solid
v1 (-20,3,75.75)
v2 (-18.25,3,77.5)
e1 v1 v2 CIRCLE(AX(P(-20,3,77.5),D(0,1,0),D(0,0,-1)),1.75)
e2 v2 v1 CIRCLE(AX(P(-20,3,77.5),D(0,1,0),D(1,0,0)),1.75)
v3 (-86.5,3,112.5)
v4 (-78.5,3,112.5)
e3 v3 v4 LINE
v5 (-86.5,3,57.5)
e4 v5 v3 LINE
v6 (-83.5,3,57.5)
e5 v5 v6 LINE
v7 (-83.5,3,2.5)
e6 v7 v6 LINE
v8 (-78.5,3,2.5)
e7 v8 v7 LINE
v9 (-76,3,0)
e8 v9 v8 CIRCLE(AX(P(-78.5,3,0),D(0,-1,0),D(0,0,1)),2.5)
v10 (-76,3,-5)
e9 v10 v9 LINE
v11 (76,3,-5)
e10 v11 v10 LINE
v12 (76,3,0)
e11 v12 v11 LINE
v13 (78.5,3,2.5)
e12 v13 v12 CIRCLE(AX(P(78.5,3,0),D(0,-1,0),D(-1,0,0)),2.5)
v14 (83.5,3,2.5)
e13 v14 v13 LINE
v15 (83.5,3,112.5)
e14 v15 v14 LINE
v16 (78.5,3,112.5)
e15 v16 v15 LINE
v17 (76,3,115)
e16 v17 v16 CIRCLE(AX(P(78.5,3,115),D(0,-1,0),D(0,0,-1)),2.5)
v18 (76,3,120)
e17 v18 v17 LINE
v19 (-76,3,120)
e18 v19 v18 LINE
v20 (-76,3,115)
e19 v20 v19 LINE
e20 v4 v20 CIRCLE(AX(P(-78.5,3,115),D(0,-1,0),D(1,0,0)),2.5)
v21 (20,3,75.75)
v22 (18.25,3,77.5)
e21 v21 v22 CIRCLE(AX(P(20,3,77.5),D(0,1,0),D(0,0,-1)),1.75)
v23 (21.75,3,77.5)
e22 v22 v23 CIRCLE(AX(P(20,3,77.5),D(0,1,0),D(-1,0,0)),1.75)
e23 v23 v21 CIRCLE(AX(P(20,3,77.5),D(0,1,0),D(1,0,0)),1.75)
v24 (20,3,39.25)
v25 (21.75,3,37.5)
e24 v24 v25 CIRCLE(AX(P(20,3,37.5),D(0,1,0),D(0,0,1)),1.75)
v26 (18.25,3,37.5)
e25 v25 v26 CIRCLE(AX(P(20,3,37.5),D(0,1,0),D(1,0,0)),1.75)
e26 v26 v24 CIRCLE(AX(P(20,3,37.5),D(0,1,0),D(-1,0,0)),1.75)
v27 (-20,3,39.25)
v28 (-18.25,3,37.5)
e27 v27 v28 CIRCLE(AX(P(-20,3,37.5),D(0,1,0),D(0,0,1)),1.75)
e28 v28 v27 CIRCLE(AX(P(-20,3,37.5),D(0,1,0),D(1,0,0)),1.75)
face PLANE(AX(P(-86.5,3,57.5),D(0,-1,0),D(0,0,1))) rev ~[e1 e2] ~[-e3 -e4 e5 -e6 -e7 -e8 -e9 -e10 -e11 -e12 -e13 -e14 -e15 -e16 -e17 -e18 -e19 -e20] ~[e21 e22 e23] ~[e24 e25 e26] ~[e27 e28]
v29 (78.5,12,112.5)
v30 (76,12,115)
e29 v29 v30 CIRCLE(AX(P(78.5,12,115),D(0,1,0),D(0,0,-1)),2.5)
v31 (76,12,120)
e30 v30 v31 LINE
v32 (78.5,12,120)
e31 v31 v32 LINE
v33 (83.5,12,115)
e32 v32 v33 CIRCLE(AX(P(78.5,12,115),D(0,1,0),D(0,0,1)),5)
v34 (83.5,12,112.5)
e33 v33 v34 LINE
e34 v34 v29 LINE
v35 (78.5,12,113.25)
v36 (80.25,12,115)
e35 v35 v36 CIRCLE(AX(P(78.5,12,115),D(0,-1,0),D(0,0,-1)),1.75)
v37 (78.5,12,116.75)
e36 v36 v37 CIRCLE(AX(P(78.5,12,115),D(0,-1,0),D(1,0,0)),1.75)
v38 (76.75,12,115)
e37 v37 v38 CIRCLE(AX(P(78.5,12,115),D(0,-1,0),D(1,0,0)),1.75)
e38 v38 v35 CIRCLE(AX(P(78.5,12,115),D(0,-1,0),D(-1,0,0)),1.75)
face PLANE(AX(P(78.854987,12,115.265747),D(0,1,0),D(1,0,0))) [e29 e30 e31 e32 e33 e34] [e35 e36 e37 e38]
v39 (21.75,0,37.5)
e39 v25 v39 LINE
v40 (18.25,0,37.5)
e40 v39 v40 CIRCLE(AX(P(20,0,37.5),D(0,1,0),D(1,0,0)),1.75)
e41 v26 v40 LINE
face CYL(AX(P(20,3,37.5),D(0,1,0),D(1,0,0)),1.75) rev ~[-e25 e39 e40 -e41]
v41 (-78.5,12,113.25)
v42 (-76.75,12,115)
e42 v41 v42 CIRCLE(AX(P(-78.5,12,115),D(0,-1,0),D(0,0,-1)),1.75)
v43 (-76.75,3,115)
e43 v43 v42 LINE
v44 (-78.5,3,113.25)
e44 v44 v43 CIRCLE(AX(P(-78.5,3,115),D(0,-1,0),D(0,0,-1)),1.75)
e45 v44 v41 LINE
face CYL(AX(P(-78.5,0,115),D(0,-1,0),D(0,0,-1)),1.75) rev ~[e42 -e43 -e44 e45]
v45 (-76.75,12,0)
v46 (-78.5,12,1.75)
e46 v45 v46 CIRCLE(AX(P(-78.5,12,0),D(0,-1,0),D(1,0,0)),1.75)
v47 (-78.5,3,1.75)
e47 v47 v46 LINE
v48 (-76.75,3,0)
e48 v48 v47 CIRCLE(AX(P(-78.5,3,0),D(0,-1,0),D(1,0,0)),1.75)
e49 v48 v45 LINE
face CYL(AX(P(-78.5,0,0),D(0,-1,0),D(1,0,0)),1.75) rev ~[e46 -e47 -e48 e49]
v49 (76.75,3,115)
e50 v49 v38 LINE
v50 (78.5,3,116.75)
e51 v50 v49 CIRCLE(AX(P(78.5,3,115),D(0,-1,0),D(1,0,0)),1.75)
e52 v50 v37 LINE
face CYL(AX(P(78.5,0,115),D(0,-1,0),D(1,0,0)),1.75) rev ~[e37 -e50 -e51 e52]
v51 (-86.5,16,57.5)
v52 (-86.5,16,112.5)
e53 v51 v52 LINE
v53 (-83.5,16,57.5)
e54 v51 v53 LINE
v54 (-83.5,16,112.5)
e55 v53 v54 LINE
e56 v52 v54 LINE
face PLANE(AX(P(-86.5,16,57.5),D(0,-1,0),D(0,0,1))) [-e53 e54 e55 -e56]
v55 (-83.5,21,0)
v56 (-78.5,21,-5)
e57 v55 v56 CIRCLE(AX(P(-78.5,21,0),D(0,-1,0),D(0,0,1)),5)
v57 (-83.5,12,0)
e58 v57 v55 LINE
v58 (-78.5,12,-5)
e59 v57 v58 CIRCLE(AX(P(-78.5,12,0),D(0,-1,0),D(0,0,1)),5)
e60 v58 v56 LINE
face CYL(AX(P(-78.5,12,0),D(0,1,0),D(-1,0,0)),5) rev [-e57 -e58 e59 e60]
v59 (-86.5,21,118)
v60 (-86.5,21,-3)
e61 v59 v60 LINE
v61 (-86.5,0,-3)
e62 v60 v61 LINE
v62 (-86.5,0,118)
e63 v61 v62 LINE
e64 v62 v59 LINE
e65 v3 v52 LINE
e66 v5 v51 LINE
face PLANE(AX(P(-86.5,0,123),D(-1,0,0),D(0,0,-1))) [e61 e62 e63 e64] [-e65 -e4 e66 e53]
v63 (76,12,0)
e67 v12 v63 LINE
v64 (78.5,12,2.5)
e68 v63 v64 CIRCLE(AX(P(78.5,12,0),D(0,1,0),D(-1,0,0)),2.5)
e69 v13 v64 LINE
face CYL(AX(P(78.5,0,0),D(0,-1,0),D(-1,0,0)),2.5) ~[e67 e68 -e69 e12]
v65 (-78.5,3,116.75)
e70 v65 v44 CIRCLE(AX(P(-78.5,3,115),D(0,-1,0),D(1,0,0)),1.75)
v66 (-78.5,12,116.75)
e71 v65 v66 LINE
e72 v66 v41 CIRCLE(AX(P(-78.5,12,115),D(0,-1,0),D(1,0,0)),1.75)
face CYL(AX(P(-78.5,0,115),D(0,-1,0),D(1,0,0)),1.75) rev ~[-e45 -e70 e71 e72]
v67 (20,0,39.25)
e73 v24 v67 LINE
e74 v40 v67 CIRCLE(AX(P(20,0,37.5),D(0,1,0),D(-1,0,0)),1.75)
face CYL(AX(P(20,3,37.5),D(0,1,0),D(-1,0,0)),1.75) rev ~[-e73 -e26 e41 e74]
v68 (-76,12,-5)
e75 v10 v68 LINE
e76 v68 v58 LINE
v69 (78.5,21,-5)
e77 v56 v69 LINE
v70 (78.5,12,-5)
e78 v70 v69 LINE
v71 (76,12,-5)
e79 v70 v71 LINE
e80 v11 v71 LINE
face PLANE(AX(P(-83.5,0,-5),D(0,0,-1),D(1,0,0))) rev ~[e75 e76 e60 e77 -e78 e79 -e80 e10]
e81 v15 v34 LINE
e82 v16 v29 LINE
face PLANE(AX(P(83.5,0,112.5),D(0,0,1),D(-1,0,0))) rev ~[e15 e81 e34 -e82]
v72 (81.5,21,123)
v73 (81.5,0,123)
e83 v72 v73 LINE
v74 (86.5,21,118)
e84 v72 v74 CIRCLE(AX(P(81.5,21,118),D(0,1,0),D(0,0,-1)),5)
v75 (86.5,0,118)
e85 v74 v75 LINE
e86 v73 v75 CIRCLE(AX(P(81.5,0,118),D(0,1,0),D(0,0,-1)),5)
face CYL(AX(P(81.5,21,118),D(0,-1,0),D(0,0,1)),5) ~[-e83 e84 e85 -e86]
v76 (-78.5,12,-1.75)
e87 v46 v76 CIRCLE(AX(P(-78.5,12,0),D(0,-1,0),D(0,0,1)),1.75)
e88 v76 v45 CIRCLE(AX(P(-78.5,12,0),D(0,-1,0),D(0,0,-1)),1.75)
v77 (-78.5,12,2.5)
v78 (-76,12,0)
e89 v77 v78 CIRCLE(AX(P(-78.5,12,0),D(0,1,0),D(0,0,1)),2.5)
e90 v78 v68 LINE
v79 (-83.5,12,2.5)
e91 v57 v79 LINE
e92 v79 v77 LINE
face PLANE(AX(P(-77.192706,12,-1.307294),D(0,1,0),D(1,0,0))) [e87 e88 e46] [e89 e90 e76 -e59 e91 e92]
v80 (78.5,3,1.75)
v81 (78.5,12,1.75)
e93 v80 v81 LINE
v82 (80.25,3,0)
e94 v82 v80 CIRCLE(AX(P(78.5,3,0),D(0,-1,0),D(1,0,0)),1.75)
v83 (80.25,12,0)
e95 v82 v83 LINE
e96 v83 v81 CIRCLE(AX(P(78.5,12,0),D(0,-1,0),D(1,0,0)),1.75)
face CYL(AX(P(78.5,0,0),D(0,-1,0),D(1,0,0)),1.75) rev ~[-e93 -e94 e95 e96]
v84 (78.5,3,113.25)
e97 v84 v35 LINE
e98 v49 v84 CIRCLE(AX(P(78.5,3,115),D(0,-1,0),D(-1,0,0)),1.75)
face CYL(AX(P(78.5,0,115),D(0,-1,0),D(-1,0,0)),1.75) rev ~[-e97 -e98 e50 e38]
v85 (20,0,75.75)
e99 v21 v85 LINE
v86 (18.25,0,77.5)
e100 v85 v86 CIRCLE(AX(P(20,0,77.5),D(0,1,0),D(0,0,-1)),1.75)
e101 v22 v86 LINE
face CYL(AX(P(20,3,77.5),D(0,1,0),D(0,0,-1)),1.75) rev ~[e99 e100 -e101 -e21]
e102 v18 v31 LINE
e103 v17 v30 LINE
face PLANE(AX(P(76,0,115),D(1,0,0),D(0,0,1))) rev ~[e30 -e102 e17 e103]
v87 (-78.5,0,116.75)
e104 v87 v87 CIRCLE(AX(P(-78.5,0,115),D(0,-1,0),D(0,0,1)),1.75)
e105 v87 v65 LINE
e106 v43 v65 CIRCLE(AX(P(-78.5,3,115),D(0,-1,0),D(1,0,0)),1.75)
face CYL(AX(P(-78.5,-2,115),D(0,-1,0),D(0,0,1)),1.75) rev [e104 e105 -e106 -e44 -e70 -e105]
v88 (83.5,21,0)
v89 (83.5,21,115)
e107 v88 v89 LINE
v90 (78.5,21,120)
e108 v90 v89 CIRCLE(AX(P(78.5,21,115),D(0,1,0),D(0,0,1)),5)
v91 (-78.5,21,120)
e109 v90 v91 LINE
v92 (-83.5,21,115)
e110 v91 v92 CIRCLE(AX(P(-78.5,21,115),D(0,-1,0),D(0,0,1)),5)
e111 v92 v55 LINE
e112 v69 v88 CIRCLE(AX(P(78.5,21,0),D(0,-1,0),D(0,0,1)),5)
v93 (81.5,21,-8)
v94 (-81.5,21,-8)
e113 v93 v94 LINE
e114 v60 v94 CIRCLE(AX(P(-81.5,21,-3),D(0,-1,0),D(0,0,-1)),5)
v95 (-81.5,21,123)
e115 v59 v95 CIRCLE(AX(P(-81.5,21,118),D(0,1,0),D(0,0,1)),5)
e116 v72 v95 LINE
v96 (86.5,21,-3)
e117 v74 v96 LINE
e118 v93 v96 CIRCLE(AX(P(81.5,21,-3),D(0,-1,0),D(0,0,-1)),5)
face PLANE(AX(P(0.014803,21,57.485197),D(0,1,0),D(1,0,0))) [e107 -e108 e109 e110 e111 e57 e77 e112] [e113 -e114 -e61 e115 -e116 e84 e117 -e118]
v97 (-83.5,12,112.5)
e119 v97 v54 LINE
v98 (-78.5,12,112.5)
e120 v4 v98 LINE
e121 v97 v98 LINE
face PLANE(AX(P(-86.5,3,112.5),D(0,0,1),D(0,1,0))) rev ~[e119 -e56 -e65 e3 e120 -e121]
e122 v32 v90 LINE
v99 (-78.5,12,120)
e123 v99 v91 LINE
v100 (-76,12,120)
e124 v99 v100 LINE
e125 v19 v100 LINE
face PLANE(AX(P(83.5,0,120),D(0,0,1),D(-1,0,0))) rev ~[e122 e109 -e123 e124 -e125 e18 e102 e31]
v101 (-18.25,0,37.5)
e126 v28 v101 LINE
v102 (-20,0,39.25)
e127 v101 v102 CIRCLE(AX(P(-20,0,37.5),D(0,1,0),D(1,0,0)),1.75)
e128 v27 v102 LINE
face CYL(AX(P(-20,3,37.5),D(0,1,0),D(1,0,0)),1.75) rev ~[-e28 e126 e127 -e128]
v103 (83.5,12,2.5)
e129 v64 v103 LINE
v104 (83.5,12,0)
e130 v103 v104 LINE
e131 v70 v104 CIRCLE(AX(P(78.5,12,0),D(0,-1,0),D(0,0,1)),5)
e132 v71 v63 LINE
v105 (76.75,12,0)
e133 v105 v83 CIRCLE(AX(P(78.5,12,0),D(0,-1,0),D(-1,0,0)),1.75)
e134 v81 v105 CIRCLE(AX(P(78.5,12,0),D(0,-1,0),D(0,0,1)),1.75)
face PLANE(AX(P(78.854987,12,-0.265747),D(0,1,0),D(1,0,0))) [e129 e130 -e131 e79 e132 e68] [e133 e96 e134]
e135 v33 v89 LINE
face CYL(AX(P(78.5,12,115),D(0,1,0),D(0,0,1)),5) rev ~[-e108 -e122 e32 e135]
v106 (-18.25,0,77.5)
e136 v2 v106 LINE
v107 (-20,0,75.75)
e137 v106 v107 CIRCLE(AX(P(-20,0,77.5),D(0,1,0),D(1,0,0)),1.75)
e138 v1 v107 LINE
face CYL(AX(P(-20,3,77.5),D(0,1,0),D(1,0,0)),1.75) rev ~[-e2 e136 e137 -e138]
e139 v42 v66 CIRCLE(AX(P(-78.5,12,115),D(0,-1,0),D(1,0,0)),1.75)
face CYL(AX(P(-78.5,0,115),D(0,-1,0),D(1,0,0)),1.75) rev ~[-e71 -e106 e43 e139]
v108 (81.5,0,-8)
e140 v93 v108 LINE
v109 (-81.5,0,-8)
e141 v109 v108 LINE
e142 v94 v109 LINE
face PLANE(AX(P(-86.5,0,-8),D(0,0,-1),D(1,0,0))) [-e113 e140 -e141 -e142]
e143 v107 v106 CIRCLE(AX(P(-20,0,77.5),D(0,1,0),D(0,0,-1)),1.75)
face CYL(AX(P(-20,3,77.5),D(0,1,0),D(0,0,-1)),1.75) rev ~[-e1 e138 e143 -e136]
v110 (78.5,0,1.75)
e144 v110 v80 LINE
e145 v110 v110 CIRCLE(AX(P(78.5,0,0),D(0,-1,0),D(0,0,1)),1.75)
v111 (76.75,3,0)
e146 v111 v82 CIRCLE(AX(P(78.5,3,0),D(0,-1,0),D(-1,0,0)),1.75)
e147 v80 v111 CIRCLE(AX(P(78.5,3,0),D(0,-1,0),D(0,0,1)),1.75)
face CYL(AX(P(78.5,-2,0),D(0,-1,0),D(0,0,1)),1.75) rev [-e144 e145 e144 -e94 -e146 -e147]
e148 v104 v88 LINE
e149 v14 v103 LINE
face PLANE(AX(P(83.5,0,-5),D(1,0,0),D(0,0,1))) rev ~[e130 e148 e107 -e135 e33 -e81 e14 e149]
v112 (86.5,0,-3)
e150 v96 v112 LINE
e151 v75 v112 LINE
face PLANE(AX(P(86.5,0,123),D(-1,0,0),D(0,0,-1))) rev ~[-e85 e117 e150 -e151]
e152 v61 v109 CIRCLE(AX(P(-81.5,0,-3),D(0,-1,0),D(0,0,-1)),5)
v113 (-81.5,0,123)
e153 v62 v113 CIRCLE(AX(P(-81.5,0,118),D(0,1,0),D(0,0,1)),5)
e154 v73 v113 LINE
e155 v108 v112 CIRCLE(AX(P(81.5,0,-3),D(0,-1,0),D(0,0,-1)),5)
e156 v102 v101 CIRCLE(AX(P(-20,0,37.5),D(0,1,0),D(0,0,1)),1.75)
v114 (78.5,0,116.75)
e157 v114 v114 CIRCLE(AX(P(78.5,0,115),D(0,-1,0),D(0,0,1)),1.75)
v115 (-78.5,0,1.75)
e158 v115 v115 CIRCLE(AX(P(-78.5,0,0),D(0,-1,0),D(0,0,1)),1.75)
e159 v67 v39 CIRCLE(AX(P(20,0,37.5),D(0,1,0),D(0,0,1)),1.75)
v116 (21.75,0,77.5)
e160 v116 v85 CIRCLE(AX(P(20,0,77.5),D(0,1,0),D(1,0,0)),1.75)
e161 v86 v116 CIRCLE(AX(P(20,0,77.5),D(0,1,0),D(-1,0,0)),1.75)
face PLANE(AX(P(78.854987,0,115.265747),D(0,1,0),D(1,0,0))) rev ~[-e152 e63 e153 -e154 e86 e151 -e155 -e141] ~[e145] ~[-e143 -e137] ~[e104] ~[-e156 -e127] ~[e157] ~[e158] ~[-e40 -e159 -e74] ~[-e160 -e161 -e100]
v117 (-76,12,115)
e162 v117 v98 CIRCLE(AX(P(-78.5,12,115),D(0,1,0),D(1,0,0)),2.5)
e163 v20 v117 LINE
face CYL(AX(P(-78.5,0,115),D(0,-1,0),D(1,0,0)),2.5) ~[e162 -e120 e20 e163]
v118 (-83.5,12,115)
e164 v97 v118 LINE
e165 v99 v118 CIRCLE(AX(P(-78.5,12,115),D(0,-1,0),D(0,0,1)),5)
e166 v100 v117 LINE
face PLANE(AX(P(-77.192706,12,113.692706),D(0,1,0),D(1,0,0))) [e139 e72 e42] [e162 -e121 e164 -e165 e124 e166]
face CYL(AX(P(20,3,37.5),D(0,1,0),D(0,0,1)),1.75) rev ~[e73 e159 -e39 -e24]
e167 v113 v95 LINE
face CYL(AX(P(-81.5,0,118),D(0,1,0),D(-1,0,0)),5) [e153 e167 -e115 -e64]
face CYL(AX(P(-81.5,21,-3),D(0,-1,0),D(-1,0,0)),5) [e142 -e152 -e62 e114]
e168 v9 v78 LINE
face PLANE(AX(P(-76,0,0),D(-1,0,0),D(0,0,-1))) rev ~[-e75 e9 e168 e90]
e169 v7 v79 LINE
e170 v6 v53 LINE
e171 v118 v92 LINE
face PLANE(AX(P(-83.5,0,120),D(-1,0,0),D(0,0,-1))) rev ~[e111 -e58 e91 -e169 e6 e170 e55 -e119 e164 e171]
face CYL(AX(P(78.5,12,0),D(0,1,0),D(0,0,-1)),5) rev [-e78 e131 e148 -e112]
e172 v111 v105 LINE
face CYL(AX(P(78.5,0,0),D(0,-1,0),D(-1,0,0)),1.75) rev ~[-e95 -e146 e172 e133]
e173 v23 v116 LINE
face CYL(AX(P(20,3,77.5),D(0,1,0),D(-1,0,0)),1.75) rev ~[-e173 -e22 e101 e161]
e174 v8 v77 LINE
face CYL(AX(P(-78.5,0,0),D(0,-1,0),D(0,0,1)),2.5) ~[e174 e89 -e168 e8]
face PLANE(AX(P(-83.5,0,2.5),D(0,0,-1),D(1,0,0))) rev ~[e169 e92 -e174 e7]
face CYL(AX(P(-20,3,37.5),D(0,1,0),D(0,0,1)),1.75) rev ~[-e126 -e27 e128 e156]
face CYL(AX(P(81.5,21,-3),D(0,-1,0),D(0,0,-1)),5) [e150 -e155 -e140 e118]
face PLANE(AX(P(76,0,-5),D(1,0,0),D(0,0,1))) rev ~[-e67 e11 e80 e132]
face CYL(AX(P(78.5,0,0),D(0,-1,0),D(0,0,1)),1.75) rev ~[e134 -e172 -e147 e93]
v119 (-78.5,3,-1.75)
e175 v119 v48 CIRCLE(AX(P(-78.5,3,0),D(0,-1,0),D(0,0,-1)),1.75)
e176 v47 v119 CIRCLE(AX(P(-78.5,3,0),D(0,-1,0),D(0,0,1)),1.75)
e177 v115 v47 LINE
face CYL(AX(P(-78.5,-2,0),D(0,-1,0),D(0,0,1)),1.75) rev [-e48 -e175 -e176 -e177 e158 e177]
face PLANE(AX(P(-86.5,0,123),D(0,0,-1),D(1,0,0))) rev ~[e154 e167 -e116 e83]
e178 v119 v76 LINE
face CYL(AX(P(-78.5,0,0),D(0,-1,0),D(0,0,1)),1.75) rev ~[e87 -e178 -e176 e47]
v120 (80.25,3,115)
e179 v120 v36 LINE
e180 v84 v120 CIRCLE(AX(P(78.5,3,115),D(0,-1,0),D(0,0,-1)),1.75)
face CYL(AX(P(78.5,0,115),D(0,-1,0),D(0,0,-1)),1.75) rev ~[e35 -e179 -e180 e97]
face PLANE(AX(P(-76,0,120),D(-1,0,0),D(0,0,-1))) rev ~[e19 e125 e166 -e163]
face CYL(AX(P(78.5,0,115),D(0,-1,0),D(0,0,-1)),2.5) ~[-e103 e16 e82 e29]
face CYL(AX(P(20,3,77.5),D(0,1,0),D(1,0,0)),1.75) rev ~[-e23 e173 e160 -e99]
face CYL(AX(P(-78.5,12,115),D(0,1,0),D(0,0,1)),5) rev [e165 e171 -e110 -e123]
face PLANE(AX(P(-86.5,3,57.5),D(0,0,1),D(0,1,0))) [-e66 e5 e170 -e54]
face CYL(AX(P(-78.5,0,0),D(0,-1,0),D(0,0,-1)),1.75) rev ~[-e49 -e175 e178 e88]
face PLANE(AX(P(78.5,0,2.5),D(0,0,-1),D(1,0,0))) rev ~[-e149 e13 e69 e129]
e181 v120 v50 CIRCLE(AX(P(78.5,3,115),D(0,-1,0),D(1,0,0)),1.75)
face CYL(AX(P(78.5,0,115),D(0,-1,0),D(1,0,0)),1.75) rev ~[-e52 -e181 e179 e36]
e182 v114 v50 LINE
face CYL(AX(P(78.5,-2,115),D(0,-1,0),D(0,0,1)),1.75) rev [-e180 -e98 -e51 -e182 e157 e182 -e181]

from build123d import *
from build123d.topology import SkipClean

# Parameters (mm, degrees)
SKETCH_1_W          = 173
SKETCH_1_H          = 131
EXTRUDE_1_DEPTH     = 3
SKETCH_1_3_W        = 3
SKETCH_1_3_H        = 3
EXTRUDE_2_DEPTH     = 21
EXTRUDE_3_DEPTH     = 12
SKETCH_3_W          = 55
SKETCH_3_H          = 13
CUT_EXTRUDE_1_DEPTH = 4
CUT_EXTRUDE_START   = -14
SKETCH_4_R          = 1.75
CUT_EXTRUDE_2_DEPTH = 14
CUT_EXTRUDE_3_DEPTH = 4
FILLET_1_R          = 5
FILLET_2_R          = 5


with BuildPart() as part:
    # 草图1 → 凸台-拉伸1 (new body)
    with BuildSketch(Plane(origin=(0, 0, 0), x_dir=(1, 0, 0), z_dir=(0, 1, 0))):
        with Locations((0, -57.5)):
            Rectangle(SKETCH_1_W, SKETCH_1_H)
    extrude(amount=EXTRUDE_1_DEPTH)

    # 草图1<3> → 凸台-拉伸2 (add)
    # profile 1 of 2: a face of its own
    with BuildSketch(Plane(origin=(0, 0, 0), x_dir=(1, 0, 0), z_dir=(0, 1, 0))):
        Polygon((-86.5, -120), (-83.5, -120), (-83.5, -123), (83.5, -123), (86.5, -123), (86.5, 8), (-86.5, 8), align=None)
        Polygon((-76, 5), (76, 5), (78.5, 5), (83.5, 5), (83.5, -2.5), (83.5, -112.5), (83.5, -115), (83.5, -120), (76, -120), (-76, -120), (-83.5, -120), (-83.5, -112.5), (-83.5, -2.5), (-83.5, 5), (-78.5, 5), align=None, mode=Mode.SUBTRACT)
    # profile 2 of 2: a face of its own
    with BuildSketch(Plane(origin=(0, 0, 0), x_dir=(1, 0, 0), z_dir=(0, 1, 0))):
        with Locations((-85, -121.5)):
            Rectangle(SKETCH_1_3_W, SKETCH_1_3_H)
    extrude(amount=EXTRUDE_2_DEPTH)

    # 草图1<5> → 凸台-拉伸3 (add)
    with BuildSketch(Plane(origin=(0, 0, 0), x_dir=(1, 0, 0), z_dir=(0, 1, 0))):
        with BuildLine():
            ThreePointArc((81, -115), (80.267766953, -113.232233047), (78.5, -112.5))
            Line((78.5, -112.5), (78.5, -113.25))
            ThreePointArc((78.5, -113.25), (79.737436867, -113.762563133), (80.25, -115))
            ThreePointArc((80.25, -115), (78.5, -116.75), (76.75, -115))
            Line((76.75, -115), (76, -115))
            ThreePointArc((76, -115), (78.5, -117.5), (81, -115))
        make_face()
        with BuildLine():
            Line((78.5, -113.25), (78.5, -112.5))
            ThreePointArc((78.5, -112.5), (76.732233047, -113.232233047), (76, -115))
            Line((76, -115), (76.75, -115))
            ThreePointArc((76.75, -115), (77.262563133, -113.762563133), (78.5, -113.25))
        make_face()
        with BuildLine():
            ThreePointArc((-76, -115), (-76.732233047, -113.232233047), (-78.5, -112.5))
            Line((-78.5, -112.5), (-78.5, -113.25))
            ThreePointArc((-78.5, -113.25), (-77.262563133, -113.762563133), (-76.75, -115))
            Line((-76.75, -115), (-76, -115))
        make_face()
        with BuildLine():
            Line((-78.5, -113.25), (-78.5, -112.5))
            ThreePointArc((-78.5, -112.5), (-80.267766953, -116.767766953), (-76, -115))
            Line((-76, -115), (-76.75, -115))
            ThreePointArc((-76.75, -115), (-79.737436867, -116.237436867), (-78.5, -113.25))
        make_face()
        with BuildLine():
            Line((-76.75, 0), (-76, 0))
            ThreePointArc((-76, 0), (-76.732233047, 1.767766953), (-78.5, 2.5))
            Line((-78.5, 2.5), (-78.5, 1.75))
            ThreePointArc((-78.5, 1.75), (-77.262563133, 1.237436867), (-76.75, 0))
        make_face()
        with BuildLine():
            ThreePointArc((-78.5, 2.5), (-81, 0), (-78.5, -2.5))
            Line((-78.5, -2.5), (-78.5, -1.75))
            ThreePointArc((-78.5, -1.75), (-80.25, 0), (-78.5, 1.75))
            Line((-78.5, 1.75), (-78.5, 2.5))
        make_face()
        with BuildLine():
            ThreePointArc((-78.5, -2.5), (-76.732233047, -1.767766953), (-76, 0))
            Line((-76, 0), (-76.75, 0))
            ThreePointArc((-76.75, 0), (-77.262563133, -1.237436867), (-78.5, -1.75))
            Line((-78.5, -1.75), (-78.5, -2.5))
        make_face()
        with BuildLine():
            ThreePointArc((81, 0), (78.5, 2.5), (76, 0))
            Line((76, 0), (76.75, 0))
            ThreePointArc((76.75, 0), (78.5, 1.75), (80.25, 0))
            ThreePointArc((80.25, 0), (79.737436867, -1.237436867), (78.5, -1.75))
            Line((78.5, -1.75), (78.5, -2.5))
            ThreePointArc((78.5, -2.5), (80.267766953, -1.767766953), (81, 0))
        make_face()
        with BuildLine():
            Line((76.75, 0), (76, 0))
            ThreePointArc((76, 0), (76.732233047, -1.767766953), (78.5, -2.5))
            Line((78.5, -2.5), (78.5, -1.75))
            ThreePointArc((78.5, -1.75), (77.262563133, -1.237436867), (76.75, 0))
        make_face()
        with BuildLine():
            Line((-83.5, -2.5), (-78.5, -2.5))
            ThreePointArc((-78.5, -2.5), (-81, 0), (-78.5, 2.5))
            Line((-78.5, 2.5), (-78.5, 5))
            Line((-78.5, 5), (-83.5, 5))
            Line((-83.5, 5), (-83.5, -2.5))
        make_face()
        with BuildLine():
            ThreePointArc((-78.5, 2.5), (-76.732233047, 1.767766953), (-76, 0))
            Line((-76, 0), (-76, 5))
            Line((-76, 5), (-78.5, 5))
            Line((-78.5, 5), (-78.5, 2.5))
        make_face()
        with BuildLine():
            Line((76, 5), (76, 0))
            ThreePointArc((76, 0), (78.5, 2.5), (81, 0))
            ThreePointArc((81, 0), (80.267766953, -1.767766953), (78.5, -2.5))
            Line((78.5, -2.5), (83.5, -2.5))
            Line((83.5, -2.5), (83.5, 5))
            Line((83.5, 5), (78.5, 5))
            Line((78.5, 5), (76, 5))
        make_face()
        with BuildLine():
            Line((83.5, -112.5), (78.5, -112.5))
            ThreePointArc((78.5, -112.5), (80.267766953, -113.232233047), (81, -115))
            ThreePointArc((81, -115), (78.5, -117.5), (76, -115))
            Line((76, -115), (76, -120))
            Line((76, -120), (83.5, -120))
            Line((83.5, -120), (83.5, -115))
            Line((83.5, -115), (83.5, -112.5))
        make_face()
        with BuildLine():
            ThreePointArc((-76, -115), (-80.267766953, -116.767766953), (-78.5, -112.5))
            Line((-78.5, -112.5), (-83.5, -112.5))
            Line((-83.5, -112.5), (-83.5, -120))
            Line((-83.5, -120), (-76, -120))
            Line((-76, -120), (-76, -115))
        make_face()
    extrude(amount=EXTRUDE_3_DEPTH)

    # 草图3 → 切除-拉伸1 (cut)
    with BuildSketch(Plane.ZY.offset(86.5)):
        with Locations((85, 9.5)):
            Rectangle(SKETCH_3_W, SKETCH_3_H)
    extrude(amount=-CUT_EXTRUDE_1_DEPTH, mode=Mode.SUBTRACT)

    # 草图4 → 切除-拉伸2 (cut)
    with SkipClean():  # the faces are left unmerged after this step: merging them gives an invalid solid
        with BuildSketch(Plane(origin=(0, 12, 0), x_dir=(1, 0, 0), z_dir=(0, 1, 0)).offset(CUT_EXTRUDE_START)):
            with Locations(Location((-78.5, 0, 0), (0, 0, 270))):
                Circle(SKETCH_4_R)
            with Locations(Location((78.5, 0, 0), (0, 0, 270))):
                Circle(SKETCH_4_R)
            with Locations(Location((78.5, -115, 0), (0, 0, 270))):
                Circle(SKETCH_4_R)
            with Locations(Location((-78.5, -115, 0), (0, 0, 270))):
                Circle(SKETCH_4_R)
        extrude(amount=CUT_EXTRUDE_2_DEPTH, mode=Mode.SUBTRACT)

    # 草图5 → 切除-拉伸3 (cut)
    with SkipClean():  # the faces are left unmerged after this step: merging them gives an invalid solid
        with BuildSketch(Plane(origin=(0, 3, 0), x_dir=(1, 0, 0), z_dir=(0, 1, 0))):
            with BuildLine():
                ThreePointArc((18.25, -37.5), (18.762563133, -38.737436867), (20, -39.25))
                Line((20, -39.25), (20, -37.5))
                Line((20, -37.5), (18.25, -37.5))
            make_face()
            with BuildLine():
                Line((20, -37.5), (20, -39.25))
                ThreePointArc((20, -39.25), (21.237436867, -38.737436867), (21.75, -37.5))
                ThreePointArc((21.75, -37.5), (20, -35.75), (18.25, -37.5))
                Line((18.25, -37.5), (20, -37.5))
            make_face()
            with BuildLine():
                ThreePointArc((21.75, -77.5), (21.237436867, -76.262563133), (20, -75.75))
                Line((20, -75.75), (20, -77.5))
                Line((20, -77.5), (18.25, -77.5))
                ThreePointArc((18.25, -77.5), (20, -79.25), (21.75, -77.5))
            make_face()
            with BuildLine():
                Line((20, -77.5), (20, -75.75))
                ThreePointArc((20, -75.75), (18.762563133, -76.262563133), (18.25, -77.5))
                Line((18.25, -77.5), (20, -77.5))
            make_face()
            with BuildLine():
                ThreePointArc((-18.25, -77.5), (-18.762563133, -76.262563133), (-20, -75.75))
                Line((-20, -75.75), (-20, -77.5))
                Line((-20, -77.5), (-18.25, -77.5))
            make_face()
            with BuildLine():
                Line((-20, -77.5), (-20, -75.75))
                ThreePointArc((-20, -75.75), (-21.237436867, -78.737436867), (-18.25, -77.5))
                Line((-18.25, -77.5), (-20, -77.5))
            make_face()
            with BuildLine():
                ThreePointArc((-18.25, -37.5), (-21.237436867, -36.262563133), (-20, -39.25))
                Line((-20, -39.25), (-20, -37.5))
                Line((-20, -37.5), (-18.25, -37.5))
            make_face()
            with BuildLine():
                Line((-20, -37.5), (-20, -39.25))
                ThreePointArc((-20, -39.25), (-18.762563133, -38.737436867), (-18.25, -37.5))
                Line((-18.25, -37.5), (-20, -37.5))
            make_face()
        extrude(amount=-CUT_EXTRUDE_3_DEPTH, mode=Mode.SUBTRACT)

    # 圆角1
    fillet_1_edges = [part.edges().sort_by_distance(p)[0] for p in [
        (-86.5, 10.5, 123),
        (-86.5, 10.5, -8),
        (86.5, 10.5, -8),
        (86.5, 10.5, 123),
    ]]
    fillet(fillet_1_edges, radius=FILLET_1_R)

    # 圆角2
    fillet_2_edges = [part.edges().sort_by_distance(p)[0] for p in [
        (83.5, 16.5, 120),
        (-83.5, 16.5, 120),
        (-83.5, 16.5, -5),
        (83.5, 16.5, -5),
    ]]
    fillet(fillet_2_edges, radius=FILLET_2_R)


solid = part.part
